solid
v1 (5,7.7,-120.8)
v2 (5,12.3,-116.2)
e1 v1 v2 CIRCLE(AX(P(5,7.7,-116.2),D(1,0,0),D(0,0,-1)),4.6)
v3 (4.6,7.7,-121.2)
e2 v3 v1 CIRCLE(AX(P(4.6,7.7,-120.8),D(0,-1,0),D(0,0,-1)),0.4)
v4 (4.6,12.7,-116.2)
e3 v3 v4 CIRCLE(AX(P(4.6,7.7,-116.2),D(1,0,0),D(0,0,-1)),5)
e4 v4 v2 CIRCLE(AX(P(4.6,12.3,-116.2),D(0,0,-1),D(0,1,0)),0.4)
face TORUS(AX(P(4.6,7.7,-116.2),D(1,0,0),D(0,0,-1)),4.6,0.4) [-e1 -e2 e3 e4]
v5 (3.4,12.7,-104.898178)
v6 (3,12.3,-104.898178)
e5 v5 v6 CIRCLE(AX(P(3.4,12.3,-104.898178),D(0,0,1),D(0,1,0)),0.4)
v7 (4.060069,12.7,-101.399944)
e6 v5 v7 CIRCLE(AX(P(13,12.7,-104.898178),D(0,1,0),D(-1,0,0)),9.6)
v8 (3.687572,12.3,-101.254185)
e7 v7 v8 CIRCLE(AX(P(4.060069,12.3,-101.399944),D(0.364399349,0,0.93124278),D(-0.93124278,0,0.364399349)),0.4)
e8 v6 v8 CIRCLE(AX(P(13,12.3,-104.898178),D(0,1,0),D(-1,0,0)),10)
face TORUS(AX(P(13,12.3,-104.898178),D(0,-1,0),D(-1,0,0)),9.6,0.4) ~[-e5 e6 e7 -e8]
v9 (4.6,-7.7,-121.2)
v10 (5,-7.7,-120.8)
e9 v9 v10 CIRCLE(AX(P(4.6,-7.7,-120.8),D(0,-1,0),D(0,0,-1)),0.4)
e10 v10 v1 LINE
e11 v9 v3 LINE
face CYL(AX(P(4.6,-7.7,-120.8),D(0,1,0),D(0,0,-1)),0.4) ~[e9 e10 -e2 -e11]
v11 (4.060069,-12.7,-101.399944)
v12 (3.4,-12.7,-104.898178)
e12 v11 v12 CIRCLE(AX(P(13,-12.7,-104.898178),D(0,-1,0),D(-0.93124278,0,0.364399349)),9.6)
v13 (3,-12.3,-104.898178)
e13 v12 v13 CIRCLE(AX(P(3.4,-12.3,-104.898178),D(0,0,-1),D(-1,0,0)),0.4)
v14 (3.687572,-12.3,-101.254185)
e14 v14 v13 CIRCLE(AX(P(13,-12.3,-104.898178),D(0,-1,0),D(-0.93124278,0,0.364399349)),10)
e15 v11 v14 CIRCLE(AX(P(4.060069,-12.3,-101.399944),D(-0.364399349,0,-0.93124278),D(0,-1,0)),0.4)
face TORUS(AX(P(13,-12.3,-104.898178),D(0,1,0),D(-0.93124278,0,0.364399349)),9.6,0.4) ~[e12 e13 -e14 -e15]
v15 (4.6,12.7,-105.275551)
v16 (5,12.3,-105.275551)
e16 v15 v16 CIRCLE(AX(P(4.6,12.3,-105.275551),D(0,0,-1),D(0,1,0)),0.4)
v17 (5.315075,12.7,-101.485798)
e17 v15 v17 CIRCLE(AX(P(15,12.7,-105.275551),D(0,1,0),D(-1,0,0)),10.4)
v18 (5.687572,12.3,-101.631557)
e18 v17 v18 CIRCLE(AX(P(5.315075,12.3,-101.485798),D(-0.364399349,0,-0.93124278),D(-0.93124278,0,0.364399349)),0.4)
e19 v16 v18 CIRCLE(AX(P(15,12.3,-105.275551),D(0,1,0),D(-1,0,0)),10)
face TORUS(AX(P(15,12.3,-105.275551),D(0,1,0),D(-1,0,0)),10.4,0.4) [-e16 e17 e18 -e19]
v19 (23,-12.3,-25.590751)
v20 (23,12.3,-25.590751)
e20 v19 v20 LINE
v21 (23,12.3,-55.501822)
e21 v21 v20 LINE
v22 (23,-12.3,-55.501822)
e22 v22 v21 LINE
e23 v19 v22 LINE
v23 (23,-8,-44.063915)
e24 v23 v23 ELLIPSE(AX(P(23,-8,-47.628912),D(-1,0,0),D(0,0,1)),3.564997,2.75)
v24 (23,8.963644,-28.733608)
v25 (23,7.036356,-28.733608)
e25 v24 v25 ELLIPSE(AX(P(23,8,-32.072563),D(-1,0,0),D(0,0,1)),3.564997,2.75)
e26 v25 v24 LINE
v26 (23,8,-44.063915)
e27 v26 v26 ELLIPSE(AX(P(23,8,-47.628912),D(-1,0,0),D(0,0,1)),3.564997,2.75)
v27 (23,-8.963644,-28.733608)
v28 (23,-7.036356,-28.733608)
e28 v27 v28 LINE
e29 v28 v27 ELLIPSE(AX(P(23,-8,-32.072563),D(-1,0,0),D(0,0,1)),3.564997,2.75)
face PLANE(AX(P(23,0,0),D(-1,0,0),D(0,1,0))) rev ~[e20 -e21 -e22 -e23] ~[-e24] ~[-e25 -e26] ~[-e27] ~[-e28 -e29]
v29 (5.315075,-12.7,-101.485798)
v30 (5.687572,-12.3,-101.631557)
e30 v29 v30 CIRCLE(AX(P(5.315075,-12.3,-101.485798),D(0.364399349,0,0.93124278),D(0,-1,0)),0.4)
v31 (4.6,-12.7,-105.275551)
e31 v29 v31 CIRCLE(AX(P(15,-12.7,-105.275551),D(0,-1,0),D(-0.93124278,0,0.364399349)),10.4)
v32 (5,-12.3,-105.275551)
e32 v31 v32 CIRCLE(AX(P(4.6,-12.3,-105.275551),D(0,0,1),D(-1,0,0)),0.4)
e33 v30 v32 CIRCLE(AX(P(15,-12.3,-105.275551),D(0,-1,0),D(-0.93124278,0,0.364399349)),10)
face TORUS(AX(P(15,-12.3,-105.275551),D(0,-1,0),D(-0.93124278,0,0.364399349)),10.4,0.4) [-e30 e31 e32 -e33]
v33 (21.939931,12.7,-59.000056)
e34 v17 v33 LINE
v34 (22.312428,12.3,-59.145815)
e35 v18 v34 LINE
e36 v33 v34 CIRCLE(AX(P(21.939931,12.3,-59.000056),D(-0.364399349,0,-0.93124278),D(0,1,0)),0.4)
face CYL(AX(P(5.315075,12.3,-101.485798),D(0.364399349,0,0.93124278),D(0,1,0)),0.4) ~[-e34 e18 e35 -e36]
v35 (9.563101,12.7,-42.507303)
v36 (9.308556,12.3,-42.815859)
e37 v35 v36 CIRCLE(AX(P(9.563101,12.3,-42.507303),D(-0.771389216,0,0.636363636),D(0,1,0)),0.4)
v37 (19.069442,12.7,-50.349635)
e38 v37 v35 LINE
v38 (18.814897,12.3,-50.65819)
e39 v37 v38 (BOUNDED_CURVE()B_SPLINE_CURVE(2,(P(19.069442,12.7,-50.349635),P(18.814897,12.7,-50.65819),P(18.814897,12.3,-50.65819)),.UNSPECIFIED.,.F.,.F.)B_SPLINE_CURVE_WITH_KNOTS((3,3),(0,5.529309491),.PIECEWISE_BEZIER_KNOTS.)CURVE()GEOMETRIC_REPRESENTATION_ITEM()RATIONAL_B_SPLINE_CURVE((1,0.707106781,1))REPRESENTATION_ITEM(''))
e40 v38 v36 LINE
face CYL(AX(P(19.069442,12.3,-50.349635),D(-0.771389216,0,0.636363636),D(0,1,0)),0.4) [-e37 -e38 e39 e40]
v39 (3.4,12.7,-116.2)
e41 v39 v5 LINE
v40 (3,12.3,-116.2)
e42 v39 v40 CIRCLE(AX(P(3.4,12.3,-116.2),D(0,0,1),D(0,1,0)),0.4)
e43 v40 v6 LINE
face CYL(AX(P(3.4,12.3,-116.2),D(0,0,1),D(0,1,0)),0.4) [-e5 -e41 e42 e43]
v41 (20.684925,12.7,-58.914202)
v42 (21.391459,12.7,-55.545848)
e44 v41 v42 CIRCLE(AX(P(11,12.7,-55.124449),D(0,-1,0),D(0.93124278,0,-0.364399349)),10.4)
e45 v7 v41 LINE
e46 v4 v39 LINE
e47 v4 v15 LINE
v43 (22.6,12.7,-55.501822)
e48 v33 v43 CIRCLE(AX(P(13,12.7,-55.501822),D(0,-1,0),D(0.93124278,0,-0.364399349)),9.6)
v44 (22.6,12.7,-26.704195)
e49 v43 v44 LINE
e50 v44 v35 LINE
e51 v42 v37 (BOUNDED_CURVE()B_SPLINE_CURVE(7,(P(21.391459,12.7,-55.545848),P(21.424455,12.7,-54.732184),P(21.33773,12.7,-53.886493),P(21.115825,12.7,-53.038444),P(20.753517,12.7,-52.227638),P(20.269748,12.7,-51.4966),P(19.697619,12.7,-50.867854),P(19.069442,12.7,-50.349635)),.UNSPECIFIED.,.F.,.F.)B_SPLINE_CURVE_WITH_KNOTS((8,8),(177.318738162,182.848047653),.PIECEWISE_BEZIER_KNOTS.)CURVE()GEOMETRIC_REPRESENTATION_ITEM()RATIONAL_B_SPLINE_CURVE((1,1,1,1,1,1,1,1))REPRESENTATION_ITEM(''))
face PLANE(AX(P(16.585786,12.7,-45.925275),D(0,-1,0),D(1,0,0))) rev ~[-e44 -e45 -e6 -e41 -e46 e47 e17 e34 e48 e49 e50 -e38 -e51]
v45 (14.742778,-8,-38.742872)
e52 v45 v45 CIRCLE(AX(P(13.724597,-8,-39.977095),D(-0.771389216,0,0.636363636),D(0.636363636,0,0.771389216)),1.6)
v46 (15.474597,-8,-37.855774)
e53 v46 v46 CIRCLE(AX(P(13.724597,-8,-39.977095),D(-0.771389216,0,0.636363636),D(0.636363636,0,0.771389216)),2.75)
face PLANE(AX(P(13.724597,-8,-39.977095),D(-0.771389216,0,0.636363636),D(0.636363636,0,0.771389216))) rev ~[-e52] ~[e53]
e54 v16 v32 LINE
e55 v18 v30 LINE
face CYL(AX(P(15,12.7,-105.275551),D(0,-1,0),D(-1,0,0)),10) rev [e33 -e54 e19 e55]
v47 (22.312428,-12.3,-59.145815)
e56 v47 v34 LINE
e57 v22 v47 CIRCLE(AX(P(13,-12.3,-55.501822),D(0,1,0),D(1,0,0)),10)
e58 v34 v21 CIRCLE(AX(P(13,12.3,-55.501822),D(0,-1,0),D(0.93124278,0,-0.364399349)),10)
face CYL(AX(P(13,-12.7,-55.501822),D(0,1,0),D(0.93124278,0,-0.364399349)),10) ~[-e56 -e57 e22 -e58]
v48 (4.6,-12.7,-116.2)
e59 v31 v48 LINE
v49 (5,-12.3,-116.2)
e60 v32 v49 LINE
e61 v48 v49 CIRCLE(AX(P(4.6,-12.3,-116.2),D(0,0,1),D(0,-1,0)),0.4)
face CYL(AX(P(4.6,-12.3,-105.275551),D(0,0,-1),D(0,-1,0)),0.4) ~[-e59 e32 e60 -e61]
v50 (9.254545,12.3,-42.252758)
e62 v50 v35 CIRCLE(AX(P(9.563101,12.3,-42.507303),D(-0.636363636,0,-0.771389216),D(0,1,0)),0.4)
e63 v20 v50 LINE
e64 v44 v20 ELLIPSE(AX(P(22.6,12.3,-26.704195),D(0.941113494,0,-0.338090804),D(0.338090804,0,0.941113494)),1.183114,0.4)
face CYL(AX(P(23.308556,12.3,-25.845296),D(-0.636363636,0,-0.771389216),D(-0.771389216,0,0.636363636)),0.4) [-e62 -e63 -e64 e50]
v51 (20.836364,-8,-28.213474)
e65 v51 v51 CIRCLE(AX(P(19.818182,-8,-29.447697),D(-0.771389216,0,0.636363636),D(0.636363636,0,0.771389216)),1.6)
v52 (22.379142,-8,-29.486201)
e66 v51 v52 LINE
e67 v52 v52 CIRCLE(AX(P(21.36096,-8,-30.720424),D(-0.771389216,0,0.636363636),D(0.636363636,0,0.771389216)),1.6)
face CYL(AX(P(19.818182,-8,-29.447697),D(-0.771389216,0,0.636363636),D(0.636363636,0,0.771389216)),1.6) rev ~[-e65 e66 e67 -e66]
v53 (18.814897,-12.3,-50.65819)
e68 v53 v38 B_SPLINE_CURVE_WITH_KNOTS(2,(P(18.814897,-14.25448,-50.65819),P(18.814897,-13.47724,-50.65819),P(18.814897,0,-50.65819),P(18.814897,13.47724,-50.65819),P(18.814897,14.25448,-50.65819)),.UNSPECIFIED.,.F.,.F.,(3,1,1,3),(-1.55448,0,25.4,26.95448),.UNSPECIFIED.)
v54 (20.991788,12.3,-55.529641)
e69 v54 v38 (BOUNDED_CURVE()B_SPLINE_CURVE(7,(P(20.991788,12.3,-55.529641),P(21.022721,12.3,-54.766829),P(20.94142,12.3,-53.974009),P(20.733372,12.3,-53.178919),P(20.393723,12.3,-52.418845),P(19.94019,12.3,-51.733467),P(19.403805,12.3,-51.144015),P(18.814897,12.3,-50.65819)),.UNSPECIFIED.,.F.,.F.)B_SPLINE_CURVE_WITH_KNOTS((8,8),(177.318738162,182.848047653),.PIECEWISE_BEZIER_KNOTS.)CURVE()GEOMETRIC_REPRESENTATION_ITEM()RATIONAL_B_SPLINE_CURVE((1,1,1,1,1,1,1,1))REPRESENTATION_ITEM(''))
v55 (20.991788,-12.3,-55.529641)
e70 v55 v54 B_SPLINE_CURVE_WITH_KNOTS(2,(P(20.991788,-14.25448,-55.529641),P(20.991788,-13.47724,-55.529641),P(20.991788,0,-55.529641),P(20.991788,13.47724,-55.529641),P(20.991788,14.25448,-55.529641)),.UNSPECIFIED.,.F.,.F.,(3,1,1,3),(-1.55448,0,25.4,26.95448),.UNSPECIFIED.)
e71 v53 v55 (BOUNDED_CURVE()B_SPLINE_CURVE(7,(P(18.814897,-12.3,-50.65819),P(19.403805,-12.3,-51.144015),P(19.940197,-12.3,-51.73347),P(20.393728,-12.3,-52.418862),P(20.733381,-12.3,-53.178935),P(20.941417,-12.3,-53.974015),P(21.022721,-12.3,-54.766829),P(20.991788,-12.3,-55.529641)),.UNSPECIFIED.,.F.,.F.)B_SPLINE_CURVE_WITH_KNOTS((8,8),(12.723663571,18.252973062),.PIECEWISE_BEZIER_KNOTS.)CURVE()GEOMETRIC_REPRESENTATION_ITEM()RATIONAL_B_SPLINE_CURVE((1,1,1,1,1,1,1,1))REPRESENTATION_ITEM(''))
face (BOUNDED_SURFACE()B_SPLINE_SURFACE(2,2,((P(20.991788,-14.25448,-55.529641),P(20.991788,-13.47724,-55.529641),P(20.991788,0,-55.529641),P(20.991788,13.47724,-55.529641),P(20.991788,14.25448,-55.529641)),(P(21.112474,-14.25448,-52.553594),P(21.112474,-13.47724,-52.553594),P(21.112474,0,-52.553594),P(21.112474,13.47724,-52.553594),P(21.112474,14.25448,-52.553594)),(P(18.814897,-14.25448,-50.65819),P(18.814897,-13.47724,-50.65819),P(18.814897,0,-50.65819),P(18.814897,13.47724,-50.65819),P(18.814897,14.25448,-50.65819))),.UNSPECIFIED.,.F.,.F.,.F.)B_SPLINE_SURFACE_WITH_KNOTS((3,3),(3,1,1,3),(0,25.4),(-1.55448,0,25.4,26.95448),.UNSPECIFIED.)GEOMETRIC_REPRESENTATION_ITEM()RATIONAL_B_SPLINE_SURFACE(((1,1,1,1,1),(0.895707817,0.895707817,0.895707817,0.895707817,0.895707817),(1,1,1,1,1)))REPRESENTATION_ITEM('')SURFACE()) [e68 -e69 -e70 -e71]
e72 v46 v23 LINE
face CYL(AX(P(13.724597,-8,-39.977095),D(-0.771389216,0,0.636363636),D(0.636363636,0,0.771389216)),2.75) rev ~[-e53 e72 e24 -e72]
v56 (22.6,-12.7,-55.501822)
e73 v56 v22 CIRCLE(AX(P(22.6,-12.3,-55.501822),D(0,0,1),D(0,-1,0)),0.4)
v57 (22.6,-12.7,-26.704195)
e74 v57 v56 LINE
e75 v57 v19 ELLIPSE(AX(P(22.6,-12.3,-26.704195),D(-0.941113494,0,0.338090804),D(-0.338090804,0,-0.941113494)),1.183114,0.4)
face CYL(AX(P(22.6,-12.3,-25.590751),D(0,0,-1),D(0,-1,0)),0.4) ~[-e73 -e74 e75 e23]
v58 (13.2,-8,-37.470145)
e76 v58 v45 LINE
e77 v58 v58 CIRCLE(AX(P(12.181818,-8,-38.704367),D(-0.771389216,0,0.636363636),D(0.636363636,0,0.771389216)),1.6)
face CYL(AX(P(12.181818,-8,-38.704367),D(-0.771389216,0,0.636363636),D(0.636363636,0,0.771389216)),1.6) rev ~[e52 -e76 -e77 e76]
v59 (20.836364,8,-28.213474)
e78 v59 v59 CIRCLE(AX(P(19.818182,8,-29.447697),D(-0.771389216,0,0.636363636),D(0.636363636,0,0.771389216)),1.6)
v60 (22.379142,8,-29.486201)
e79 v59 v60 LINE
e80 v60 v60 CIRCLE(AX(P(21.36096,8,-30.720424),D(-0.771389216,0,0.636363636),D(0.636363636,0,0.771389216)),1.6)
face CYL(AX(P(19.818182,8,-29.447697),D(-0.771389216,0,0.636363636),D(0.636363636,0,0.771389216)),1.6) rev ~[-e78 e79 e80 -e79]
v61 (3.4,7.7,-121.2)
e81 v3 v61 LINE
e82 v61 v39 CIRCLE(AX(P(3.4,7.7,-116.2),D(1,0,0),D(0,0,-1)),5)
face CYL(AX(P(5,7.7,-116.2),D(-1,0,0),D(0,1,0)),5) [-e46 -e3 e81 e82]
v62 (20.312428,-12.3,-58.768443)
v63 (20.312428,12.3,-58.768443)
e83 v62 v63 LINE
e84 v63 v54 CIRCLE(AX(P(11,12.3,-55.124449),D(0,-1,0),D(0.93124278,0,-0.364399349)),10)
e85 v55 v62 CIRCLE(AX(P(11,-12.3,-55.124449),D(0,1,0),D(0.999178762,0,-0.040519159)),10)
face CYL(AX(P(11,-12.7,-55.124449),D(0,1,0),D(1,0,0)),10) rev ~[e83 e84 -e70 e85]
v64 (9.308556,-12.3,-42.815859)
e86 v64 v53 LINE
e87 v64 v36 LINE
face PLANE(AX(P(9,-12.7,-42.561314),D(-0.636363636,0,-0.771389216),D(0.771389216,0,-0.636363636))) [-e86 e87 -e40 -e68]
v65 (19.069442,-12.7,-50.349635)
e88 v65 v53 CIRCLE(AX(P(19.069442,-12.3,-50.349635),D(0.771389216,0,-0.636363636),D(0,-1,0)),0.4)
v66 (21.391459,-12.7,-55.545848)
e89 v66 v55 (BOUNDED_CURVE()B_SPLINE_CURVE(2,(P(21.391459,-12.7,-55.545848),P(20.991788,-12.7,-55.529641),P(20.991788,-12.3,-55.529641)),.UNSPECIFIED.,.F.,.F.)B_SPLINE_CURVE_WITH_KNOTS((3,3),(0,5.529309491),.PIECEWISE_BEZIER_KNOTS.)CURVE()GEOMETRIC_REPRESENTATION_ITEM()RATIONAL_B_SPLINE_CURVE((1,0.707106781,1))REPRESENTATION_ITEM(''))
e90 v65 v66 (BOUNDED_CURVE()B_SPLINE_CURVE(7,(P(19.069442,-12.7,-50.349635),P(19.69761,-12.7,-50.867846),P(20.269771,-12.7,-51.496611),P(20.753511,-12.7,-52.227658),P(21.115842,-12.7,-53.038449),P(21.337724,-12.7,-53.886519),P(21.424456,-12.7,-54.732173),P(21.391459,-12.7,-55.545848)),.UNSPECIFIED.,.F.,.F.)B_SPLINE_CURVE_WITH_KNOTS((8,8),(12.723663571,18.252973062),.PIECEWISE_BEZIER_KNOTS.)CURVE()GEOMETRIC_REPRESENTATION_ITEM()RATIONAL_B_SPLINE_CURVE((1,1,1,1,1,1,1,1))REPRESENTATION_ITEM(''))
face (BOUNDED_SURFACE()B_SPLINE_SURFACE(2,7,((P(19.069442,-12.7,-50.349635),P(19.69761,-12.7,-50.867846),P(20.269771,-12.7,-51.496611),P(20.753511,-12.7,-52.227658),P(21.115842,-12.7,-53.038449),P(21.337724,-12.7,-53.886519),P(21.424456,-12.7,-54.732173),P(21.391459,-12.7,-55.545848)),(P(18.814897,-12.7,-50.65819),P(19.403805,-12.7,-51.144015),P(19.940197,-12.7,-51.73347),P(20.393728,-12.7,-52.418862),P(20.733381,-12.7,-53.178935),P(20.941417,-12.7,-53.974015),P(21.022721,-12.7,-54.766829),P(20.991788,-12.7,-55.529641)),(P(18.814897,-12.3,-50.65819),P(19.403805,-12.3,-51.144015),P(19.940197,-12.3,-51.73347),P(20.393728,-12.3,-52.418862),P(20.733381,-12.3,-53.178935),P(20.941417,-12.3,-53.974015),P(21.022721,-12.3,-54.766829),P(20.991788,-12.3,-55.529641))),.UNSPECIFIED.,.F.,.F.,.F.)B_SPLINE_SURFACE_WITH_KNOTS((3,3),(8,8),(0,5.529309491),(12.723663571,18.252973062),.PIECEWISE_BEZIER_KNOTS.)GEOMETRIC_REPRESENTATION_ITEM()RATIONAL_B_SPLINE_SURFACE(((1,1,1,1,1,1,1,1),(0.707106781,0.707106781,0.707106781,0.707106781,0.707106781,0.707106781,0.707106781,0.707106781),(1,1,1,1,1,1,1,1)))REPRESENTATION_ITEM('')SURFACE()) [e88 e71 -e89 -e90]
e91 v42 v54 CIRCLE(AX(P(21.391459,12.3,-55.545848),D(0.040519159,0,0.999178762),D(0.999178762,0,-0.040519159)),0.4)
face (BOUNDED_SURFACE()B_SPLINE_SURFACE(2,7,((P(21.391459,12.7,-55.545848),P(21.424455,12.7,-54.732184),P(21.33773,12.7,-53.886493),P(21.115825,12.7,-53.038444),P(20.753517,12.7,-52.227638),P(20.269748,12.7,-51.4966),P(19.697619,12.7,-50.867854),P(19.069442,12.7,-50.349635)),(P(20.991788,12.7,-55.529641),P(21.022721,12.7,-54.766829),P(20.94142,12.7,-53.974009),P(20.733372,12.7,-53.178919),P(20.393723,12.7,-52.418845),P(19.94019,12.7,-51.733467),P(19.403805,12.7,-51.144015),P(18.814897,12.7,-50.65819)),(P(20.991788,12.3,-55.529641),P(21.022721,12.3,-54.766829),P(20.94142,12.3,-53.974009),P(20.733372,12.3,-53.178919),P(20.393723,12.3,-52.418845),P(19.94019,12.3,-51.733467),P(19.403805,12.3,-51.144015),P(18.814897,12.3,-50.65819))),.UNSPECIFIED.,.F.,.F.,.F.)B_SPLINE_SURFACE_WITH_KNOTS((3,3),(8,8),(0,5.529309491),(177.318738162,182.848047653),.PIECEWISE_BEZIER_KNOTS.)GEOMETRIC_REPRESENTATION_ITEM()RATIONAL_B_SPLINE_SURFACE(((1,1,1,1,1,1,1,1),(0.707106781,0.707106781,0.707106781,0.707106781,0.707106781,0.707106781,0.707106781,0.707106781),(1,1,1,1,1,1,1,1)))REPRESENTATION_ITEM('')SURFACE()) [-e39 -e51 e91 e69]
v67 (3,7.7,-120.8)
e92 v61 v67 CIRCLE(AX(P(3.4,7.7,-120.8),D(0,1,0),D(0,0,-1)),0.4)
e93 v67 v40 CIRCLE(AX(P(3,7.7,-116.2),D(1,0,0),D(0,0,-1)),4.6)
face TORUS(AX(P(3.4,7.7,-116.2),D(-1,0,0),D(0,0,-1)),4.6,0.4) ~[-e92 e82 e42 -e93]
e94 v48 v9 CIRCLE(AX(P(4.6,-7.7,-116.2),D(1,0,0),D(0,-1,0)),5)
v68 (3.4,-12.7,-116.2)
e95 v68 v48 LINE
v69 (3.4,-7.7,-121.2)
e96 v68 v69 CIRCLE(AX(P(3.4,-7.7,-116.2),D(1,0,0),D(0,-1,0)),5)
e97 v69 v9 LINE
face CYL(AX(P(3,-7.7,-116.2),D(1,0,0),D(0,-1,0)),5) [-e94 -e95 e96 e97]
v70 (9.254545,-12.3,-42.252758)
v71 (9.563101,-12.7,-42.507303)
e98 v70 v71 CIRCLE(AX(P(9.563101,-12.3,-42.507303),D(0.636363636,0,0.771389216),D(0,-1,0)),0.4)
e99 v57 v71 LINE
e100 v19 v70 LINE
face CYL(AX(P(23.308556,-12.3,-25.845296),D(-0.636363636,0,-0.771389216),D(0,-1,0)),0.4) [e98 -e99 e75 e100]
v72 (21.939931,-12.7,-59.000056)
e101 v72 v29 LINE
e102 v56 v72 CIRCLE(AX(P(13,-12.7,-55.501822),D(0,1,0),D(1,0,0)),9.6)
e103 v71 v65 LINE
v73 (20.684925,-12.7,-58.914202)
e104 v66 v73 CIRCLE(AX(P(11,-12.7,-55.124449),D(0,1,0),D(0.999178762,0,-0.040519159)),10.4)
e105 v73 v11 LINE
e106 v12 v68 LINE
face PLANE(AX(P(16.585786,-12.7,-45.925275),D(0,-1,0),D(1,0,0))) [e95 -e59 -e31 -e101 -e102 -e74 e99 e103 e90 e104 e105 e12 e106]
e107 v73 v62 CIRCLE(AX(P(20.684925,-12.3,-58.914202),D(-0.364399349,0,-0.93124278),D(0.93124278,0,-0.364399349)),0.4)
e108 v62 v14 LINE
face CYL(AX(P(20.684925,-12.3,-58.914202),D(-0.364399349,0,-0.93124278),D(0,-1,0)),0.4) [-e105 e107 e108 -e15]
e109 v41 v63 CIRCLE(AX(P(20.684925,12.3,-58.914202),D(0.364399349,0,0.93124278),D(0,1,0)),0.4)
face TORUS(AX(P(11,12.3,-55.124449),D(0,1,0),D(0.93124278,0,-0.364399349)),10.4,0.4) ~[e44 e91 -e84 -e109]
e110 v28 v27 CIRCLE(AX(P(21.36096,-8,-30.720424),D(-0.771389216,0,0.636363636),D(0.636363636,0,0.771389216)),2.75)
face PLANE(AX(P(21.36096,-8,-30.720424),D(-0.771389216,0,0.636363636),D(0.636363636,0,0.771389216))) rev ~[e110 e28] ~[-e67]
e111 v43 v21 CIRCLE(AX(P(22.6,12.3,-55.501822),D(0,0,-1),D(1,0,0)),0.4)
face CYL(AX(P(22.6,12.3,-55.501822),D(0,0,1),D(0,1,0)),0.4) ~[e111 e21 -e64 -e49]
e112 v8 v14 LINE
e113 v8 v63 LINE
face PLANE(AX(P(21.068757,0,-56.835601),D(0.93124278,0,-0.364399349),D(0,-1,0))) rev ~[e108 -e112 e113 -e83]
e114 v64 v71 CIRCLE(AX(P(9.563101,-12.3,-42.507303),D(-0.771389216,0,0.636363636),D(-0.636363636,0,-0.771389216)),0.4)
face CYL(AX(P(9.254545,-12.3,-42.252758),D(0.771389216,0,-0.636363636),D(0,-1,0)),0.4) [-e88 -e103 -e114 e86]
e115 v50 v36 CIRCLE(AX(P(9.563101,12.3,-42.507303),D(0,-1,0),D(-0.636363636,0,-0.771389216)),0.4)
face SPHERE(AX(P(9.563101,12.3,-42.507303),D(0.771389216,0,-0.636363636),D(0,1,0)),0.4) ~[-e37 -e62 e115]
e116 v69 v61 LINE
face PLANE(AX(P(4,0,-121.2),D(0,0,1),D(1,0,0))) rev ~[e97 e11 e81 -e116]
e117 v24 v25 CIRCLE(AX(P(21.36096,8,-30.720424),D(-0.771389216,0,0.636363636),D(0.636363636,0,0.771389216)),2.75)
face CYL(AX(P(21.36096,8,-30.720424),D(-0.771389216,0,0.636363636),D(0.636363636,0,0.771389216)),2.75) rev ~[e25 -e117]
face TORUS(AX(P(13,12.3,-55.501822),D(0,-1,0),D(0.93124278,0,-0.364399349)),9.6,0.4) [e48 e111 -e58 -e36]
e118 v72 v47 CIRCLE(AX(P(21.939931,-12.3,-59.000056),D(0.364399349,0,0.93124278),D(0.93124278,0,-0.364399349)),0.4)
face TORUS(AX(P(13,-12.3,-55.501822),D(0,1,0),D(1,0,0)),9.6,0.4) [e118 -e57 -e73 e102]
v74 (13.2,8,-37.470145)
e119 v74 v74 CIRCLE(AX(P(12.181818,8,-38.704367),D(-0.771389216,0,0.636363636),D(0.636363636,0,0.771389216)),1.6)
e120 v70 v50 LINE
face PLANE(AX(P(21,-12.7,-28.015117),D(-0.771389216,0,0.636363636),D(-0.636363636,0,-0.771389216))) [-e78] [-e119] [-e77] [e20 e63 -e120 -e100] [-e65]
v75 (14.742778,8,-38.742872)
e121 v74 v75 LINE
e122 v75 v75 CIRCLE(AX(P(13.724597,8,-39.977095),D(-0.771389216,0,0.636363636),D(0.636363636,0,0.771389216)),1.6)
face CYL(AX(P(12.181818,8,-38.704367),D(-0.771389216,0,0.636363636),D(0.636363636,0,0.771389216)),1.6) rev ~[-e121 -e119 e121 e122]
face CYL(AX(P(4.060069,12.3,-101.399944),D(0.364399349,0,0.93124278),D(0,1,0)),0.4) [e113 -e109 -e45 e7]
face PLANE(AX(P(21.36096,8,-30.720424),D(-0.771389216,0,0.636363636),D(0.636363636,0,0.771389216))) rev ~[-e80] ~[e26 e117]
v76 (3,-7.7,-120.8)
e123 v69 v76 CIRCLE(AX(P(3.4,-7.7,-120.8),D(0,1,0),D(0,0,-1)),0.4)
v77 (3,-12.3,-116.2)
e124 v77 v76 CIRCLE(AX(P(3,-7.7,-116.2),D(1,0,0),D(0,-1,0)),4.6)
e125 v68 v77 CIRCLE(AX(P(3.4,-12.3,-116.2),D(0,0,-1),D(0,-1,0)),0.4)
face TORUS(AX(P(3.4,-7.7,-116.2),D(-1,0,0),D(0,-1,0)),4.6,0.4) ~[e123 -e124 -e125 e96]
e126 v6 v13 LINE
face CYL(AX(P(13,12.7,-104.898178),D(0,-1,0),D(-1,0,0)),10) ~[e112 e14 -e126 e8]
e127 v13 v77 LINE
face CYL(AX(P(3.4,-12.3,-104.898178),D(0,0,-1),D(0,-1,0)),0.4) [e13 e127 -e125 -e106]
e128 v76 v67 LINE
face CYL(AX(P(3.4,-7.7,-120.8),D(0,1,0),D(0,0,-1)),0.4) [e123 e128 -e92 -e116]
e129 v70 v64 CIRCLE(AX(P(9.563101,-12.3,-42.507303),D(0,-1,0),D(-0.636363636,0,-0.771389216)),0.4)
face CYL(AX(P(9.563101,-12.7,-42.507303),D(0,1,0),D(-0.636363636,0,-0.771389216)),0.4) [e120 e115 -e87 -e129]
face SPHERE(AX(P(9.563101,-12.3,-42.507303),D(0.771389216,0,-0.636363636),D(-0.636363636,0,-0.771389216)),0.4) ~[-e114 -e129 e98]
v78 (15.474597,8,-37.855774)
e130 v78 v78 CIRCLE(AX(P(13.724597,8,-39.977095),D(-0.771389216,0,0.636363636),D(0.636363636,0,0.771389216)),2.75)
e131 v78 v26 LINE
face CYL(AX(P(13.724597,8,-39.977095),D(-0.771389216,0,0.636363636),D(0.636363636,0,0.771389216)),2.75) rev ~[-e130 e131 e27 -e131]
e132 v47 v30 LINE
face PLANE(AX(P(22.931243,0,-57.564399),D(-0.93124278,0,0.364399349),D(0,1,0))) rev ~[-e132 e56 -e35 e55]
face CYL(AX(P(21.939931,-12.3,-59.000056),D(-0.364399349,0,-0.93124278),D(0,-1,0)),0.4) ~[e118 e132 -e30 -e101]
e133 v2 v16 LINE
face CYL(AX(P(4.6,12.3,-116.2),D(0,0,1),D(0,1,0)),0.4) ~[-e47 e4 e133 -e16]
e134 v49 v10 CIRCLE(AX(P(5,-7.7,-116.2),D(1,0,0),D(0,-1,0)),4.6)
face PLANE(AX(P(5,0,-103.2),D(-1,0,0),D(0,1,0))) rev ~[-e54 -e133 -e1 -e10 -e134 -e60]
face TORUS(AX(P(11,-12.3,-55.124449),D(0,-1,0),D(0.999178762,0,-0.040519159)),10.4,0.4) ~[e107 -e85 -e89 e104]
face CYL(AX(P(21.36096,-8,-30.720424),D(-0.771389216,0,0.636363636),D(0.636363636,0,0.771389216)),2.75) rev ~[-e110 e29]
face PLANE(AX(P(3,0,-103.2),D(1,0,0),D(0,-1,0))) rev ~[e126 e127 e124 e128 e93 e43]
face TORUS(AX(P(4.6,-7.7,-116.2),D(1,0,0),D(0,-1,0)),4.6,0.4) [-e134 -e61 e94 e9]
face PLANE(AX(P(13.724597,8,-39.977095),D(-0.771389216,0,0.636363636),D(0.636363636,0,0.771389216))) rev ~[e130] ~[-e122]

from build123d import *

# Parameters (mm, degrees)
SKETCH1_W           = 2
SKETCH1_H           = 25.4
SKETCH4_W           = 5
SKETCH4_H           = 25.4
CUT_EXTRUDE2_DEPTH  = 21
BOSS_EXTRUDE2_DEPTH = 25.4
BOSS_EXTRUDE4_DEPTH = 25.4
FILLET1_R           = 5
CUT_EXTRUDE3_DEPTH  = 26.4
SKETCH9_R           = 1.6
CUT_EXTRUDE4_DEPTH  = 2
SKETCH10_R          = 2.75
CUT_EXTRUDE5_DEPTH  = 59.842249491
FILLET2_R           = 10
FILLET5_R           = 6
FILLET3_R           = 0.4


with BuildPart() as part:
    # Sweep1: sweep along a path in Sketch2
    with BuildLine(Plane(origin=(0, 0, 0), x_dir=(1, 0, 0), z_dir=(0, 1, 0))) as sweep1_path:
        Line((22, 0), (22, 57.2))
        Line((22, 57.2), (4, 103.2))
        Line((4, 103.2), (4, 121.2))
    # Sketch1 → Sweep1 (sweep)
    with BuildSketch(Plane.XY):
        with Locations((22, 0)):
            Rectangle(SKETCH1_W, SKETCH1_H)
    sweep(path=sweep1_path.line, transition=Transition.RIGHT)

    # Sketch4 → Cut-Extrude2 (cut, through all)
    with BuildSketch(Plane(origin=(23, 0, 0), x_dir=(0, 0, -1), z_dir=(1, 0, 0))):
        with Locations((2.5, 0)):
            Rectangle(SKETCH4_W, SKETCH4_H)
    extrude(amount=-CUT_EXTRUDE2_DEPTH, mode=Mode.SUBTRACT)

    # Sketch5 → Boss-Extrude2 (add, through all)
    with BuildSketch(Plane.XZ.offset(12.7)):
        Polygon((21, -42.561313548), (21, -28.015116906), (9, -42.561313548), align=None)
    extrude(amount=-BOSS_EXTRUDE2_DEPTH)

    # Sketch6 → Boss-Extrude4 (add, through all)
    with BuildSketch(Plane.XZ.offset(12.7)):
        Polygon((9, -42.561313548), (21, -52.460808484), (21, -42.561313548), align=None)
    extrude(amount=-BOSS_EXTRUDE4_DEPTH)

    # Fillet1
    fillet1_edges = [part.edges().sort_by_distance(p)[0] for p in [
        (4, -12.7, -121.2),
        (4, 12.7, -121.2),
    ]]
    fillet(fillet1_edges, radius=FILLET1_R)

    # Sketch8 → Cut-Extrude3 (cut, through all)
    with BuildSketch(Plane.XZ.offset(12.7)):
        Polygon((23, -25.590750799), (23, -5), (21, -5), (21, -28.015116906), align=None)
    extrude(amount=-CUT_EXTRUDE3_DEPTH, mode=Mode.SUBTRACT)

    # Sketch9 → Cut-Extrude4 (cut)
    with BuildSketch(Plane(origin=(26.248041717, 0, -21.653529673), x_dir=(0.636363636, 0, 0.771389216), z_dir=(-0.771389216, 0, 0.636363636))):
        with Locations((-22.104065555, 8)):
            Circle(SKETCH9_R)
        with Locations((-22.104065555, -8)):
            Circle(SKETCH9_R)
        with Locations((-10.104065555, -8)):
            Circle(SKETCH9_R)
        with Locations((-10.104065555, 8)):
            Circle(SKETCH9_R)
    extrude(amount=-CUT_EXTRUDE4_DEPTH, mode=Mode.SUBTRACT)

    # Sketch10 → Cut-Extrude5 (cut, through all)
    with BuildSketch(Plane(origin=(27.790820149, 0, -22.926256946), x_dir=(0.636363636, 0, 0.771389216), z_dir=(-0.771389216, 0, 0.636363636))):
        with Locations((-22.104065555, 8)):
            Circle(SKETCH10_R)
        with Locations((-10.104065555, 8)):
            Circle(SKETCH10_R)
        with Locations((-10.104065555, -8)):
            Circle(SKETCH10_R)
        with Locations((-22.104065555, -8)):
            Circle(SKETCH10_R)
    extrude(amount=-CUT_EXTRUDE5_DEPTH, mode=Mode.SUBTRACT)

    # Fillet2
    fillet2_edges = [part.edges().sort_by_distance(p)[0] for p in [
        (23, 0, -57.388686452),
        (21, 0, -57.011313548),
        (3, 0, -103.011313548),
        (5, 0, -103.388686452),
    ]]
    fillet(fillet2_edges, radius=FILLET2_R)

    # Fillet5
    fillet5_edges = [part.edges().sort_by_distance(p)[0] for p in [
        (21, 0, -52.460808484),
    ]]
    fillet(fillet5_edges, radius=FILLET5_R)

    # Fillet3
    fillet3_edges = [part.edges().sort_by_distance(p)[0] for p in [
        (5, -12.7, -110.737775488),
        (5, 12.7, -110.737775488),
        (14, 12.7, -80.388686452),
        (14, -12.7, -80.388686452),
        (3, -12.7, -110.549089035),
        (3, 12.7, -110.549089035),
        (23, 12.7, -40.546286364),
        (12, 12.7, -80.011313548),
        (22.826603634, 12.7, -57.355968907),
        (3.173396366, 12.7, -103.044031093),
        (12, -12.7, -80.011313548),
        (23, -12.7, -40.546286364),
        (22.826603634, -12.7, -57.355968907),
        (3.173396366, -12.7, -103.044031093),
        (5.173396366, -12.7, -103.421403997),
        (5.173396366, 12.7, -103.421403997),
        (20.787013978, 12.7, -57.177339033),
        (20.787013978, -12.7, -57.177339033),
        (20.474647805, -12.7, -52.838617841),
        (20.474647805, 12.7, -52.838617841),
        (16, 12.7, -34.076032173),
        (9, 0, -42.561313548),
        (16, -12.7, -34.076032173),
        (13.907448432, 12.7, -46.609751957),
        (13.907448432, -12.7, -46.609751957),
        (5, 0, -121.2),
        (5, 11.235533906, -119.735533906),
        (5, -11.235533906, -119.735533906),
        (3, 0, -121.2),
        (3, 11.235533906, -119.735533906),
        (3, -11.235533906, -119.735533906),
    ]]
    fillet(fillet3_edges, radius=FILLET3_R)


solid = part.part
